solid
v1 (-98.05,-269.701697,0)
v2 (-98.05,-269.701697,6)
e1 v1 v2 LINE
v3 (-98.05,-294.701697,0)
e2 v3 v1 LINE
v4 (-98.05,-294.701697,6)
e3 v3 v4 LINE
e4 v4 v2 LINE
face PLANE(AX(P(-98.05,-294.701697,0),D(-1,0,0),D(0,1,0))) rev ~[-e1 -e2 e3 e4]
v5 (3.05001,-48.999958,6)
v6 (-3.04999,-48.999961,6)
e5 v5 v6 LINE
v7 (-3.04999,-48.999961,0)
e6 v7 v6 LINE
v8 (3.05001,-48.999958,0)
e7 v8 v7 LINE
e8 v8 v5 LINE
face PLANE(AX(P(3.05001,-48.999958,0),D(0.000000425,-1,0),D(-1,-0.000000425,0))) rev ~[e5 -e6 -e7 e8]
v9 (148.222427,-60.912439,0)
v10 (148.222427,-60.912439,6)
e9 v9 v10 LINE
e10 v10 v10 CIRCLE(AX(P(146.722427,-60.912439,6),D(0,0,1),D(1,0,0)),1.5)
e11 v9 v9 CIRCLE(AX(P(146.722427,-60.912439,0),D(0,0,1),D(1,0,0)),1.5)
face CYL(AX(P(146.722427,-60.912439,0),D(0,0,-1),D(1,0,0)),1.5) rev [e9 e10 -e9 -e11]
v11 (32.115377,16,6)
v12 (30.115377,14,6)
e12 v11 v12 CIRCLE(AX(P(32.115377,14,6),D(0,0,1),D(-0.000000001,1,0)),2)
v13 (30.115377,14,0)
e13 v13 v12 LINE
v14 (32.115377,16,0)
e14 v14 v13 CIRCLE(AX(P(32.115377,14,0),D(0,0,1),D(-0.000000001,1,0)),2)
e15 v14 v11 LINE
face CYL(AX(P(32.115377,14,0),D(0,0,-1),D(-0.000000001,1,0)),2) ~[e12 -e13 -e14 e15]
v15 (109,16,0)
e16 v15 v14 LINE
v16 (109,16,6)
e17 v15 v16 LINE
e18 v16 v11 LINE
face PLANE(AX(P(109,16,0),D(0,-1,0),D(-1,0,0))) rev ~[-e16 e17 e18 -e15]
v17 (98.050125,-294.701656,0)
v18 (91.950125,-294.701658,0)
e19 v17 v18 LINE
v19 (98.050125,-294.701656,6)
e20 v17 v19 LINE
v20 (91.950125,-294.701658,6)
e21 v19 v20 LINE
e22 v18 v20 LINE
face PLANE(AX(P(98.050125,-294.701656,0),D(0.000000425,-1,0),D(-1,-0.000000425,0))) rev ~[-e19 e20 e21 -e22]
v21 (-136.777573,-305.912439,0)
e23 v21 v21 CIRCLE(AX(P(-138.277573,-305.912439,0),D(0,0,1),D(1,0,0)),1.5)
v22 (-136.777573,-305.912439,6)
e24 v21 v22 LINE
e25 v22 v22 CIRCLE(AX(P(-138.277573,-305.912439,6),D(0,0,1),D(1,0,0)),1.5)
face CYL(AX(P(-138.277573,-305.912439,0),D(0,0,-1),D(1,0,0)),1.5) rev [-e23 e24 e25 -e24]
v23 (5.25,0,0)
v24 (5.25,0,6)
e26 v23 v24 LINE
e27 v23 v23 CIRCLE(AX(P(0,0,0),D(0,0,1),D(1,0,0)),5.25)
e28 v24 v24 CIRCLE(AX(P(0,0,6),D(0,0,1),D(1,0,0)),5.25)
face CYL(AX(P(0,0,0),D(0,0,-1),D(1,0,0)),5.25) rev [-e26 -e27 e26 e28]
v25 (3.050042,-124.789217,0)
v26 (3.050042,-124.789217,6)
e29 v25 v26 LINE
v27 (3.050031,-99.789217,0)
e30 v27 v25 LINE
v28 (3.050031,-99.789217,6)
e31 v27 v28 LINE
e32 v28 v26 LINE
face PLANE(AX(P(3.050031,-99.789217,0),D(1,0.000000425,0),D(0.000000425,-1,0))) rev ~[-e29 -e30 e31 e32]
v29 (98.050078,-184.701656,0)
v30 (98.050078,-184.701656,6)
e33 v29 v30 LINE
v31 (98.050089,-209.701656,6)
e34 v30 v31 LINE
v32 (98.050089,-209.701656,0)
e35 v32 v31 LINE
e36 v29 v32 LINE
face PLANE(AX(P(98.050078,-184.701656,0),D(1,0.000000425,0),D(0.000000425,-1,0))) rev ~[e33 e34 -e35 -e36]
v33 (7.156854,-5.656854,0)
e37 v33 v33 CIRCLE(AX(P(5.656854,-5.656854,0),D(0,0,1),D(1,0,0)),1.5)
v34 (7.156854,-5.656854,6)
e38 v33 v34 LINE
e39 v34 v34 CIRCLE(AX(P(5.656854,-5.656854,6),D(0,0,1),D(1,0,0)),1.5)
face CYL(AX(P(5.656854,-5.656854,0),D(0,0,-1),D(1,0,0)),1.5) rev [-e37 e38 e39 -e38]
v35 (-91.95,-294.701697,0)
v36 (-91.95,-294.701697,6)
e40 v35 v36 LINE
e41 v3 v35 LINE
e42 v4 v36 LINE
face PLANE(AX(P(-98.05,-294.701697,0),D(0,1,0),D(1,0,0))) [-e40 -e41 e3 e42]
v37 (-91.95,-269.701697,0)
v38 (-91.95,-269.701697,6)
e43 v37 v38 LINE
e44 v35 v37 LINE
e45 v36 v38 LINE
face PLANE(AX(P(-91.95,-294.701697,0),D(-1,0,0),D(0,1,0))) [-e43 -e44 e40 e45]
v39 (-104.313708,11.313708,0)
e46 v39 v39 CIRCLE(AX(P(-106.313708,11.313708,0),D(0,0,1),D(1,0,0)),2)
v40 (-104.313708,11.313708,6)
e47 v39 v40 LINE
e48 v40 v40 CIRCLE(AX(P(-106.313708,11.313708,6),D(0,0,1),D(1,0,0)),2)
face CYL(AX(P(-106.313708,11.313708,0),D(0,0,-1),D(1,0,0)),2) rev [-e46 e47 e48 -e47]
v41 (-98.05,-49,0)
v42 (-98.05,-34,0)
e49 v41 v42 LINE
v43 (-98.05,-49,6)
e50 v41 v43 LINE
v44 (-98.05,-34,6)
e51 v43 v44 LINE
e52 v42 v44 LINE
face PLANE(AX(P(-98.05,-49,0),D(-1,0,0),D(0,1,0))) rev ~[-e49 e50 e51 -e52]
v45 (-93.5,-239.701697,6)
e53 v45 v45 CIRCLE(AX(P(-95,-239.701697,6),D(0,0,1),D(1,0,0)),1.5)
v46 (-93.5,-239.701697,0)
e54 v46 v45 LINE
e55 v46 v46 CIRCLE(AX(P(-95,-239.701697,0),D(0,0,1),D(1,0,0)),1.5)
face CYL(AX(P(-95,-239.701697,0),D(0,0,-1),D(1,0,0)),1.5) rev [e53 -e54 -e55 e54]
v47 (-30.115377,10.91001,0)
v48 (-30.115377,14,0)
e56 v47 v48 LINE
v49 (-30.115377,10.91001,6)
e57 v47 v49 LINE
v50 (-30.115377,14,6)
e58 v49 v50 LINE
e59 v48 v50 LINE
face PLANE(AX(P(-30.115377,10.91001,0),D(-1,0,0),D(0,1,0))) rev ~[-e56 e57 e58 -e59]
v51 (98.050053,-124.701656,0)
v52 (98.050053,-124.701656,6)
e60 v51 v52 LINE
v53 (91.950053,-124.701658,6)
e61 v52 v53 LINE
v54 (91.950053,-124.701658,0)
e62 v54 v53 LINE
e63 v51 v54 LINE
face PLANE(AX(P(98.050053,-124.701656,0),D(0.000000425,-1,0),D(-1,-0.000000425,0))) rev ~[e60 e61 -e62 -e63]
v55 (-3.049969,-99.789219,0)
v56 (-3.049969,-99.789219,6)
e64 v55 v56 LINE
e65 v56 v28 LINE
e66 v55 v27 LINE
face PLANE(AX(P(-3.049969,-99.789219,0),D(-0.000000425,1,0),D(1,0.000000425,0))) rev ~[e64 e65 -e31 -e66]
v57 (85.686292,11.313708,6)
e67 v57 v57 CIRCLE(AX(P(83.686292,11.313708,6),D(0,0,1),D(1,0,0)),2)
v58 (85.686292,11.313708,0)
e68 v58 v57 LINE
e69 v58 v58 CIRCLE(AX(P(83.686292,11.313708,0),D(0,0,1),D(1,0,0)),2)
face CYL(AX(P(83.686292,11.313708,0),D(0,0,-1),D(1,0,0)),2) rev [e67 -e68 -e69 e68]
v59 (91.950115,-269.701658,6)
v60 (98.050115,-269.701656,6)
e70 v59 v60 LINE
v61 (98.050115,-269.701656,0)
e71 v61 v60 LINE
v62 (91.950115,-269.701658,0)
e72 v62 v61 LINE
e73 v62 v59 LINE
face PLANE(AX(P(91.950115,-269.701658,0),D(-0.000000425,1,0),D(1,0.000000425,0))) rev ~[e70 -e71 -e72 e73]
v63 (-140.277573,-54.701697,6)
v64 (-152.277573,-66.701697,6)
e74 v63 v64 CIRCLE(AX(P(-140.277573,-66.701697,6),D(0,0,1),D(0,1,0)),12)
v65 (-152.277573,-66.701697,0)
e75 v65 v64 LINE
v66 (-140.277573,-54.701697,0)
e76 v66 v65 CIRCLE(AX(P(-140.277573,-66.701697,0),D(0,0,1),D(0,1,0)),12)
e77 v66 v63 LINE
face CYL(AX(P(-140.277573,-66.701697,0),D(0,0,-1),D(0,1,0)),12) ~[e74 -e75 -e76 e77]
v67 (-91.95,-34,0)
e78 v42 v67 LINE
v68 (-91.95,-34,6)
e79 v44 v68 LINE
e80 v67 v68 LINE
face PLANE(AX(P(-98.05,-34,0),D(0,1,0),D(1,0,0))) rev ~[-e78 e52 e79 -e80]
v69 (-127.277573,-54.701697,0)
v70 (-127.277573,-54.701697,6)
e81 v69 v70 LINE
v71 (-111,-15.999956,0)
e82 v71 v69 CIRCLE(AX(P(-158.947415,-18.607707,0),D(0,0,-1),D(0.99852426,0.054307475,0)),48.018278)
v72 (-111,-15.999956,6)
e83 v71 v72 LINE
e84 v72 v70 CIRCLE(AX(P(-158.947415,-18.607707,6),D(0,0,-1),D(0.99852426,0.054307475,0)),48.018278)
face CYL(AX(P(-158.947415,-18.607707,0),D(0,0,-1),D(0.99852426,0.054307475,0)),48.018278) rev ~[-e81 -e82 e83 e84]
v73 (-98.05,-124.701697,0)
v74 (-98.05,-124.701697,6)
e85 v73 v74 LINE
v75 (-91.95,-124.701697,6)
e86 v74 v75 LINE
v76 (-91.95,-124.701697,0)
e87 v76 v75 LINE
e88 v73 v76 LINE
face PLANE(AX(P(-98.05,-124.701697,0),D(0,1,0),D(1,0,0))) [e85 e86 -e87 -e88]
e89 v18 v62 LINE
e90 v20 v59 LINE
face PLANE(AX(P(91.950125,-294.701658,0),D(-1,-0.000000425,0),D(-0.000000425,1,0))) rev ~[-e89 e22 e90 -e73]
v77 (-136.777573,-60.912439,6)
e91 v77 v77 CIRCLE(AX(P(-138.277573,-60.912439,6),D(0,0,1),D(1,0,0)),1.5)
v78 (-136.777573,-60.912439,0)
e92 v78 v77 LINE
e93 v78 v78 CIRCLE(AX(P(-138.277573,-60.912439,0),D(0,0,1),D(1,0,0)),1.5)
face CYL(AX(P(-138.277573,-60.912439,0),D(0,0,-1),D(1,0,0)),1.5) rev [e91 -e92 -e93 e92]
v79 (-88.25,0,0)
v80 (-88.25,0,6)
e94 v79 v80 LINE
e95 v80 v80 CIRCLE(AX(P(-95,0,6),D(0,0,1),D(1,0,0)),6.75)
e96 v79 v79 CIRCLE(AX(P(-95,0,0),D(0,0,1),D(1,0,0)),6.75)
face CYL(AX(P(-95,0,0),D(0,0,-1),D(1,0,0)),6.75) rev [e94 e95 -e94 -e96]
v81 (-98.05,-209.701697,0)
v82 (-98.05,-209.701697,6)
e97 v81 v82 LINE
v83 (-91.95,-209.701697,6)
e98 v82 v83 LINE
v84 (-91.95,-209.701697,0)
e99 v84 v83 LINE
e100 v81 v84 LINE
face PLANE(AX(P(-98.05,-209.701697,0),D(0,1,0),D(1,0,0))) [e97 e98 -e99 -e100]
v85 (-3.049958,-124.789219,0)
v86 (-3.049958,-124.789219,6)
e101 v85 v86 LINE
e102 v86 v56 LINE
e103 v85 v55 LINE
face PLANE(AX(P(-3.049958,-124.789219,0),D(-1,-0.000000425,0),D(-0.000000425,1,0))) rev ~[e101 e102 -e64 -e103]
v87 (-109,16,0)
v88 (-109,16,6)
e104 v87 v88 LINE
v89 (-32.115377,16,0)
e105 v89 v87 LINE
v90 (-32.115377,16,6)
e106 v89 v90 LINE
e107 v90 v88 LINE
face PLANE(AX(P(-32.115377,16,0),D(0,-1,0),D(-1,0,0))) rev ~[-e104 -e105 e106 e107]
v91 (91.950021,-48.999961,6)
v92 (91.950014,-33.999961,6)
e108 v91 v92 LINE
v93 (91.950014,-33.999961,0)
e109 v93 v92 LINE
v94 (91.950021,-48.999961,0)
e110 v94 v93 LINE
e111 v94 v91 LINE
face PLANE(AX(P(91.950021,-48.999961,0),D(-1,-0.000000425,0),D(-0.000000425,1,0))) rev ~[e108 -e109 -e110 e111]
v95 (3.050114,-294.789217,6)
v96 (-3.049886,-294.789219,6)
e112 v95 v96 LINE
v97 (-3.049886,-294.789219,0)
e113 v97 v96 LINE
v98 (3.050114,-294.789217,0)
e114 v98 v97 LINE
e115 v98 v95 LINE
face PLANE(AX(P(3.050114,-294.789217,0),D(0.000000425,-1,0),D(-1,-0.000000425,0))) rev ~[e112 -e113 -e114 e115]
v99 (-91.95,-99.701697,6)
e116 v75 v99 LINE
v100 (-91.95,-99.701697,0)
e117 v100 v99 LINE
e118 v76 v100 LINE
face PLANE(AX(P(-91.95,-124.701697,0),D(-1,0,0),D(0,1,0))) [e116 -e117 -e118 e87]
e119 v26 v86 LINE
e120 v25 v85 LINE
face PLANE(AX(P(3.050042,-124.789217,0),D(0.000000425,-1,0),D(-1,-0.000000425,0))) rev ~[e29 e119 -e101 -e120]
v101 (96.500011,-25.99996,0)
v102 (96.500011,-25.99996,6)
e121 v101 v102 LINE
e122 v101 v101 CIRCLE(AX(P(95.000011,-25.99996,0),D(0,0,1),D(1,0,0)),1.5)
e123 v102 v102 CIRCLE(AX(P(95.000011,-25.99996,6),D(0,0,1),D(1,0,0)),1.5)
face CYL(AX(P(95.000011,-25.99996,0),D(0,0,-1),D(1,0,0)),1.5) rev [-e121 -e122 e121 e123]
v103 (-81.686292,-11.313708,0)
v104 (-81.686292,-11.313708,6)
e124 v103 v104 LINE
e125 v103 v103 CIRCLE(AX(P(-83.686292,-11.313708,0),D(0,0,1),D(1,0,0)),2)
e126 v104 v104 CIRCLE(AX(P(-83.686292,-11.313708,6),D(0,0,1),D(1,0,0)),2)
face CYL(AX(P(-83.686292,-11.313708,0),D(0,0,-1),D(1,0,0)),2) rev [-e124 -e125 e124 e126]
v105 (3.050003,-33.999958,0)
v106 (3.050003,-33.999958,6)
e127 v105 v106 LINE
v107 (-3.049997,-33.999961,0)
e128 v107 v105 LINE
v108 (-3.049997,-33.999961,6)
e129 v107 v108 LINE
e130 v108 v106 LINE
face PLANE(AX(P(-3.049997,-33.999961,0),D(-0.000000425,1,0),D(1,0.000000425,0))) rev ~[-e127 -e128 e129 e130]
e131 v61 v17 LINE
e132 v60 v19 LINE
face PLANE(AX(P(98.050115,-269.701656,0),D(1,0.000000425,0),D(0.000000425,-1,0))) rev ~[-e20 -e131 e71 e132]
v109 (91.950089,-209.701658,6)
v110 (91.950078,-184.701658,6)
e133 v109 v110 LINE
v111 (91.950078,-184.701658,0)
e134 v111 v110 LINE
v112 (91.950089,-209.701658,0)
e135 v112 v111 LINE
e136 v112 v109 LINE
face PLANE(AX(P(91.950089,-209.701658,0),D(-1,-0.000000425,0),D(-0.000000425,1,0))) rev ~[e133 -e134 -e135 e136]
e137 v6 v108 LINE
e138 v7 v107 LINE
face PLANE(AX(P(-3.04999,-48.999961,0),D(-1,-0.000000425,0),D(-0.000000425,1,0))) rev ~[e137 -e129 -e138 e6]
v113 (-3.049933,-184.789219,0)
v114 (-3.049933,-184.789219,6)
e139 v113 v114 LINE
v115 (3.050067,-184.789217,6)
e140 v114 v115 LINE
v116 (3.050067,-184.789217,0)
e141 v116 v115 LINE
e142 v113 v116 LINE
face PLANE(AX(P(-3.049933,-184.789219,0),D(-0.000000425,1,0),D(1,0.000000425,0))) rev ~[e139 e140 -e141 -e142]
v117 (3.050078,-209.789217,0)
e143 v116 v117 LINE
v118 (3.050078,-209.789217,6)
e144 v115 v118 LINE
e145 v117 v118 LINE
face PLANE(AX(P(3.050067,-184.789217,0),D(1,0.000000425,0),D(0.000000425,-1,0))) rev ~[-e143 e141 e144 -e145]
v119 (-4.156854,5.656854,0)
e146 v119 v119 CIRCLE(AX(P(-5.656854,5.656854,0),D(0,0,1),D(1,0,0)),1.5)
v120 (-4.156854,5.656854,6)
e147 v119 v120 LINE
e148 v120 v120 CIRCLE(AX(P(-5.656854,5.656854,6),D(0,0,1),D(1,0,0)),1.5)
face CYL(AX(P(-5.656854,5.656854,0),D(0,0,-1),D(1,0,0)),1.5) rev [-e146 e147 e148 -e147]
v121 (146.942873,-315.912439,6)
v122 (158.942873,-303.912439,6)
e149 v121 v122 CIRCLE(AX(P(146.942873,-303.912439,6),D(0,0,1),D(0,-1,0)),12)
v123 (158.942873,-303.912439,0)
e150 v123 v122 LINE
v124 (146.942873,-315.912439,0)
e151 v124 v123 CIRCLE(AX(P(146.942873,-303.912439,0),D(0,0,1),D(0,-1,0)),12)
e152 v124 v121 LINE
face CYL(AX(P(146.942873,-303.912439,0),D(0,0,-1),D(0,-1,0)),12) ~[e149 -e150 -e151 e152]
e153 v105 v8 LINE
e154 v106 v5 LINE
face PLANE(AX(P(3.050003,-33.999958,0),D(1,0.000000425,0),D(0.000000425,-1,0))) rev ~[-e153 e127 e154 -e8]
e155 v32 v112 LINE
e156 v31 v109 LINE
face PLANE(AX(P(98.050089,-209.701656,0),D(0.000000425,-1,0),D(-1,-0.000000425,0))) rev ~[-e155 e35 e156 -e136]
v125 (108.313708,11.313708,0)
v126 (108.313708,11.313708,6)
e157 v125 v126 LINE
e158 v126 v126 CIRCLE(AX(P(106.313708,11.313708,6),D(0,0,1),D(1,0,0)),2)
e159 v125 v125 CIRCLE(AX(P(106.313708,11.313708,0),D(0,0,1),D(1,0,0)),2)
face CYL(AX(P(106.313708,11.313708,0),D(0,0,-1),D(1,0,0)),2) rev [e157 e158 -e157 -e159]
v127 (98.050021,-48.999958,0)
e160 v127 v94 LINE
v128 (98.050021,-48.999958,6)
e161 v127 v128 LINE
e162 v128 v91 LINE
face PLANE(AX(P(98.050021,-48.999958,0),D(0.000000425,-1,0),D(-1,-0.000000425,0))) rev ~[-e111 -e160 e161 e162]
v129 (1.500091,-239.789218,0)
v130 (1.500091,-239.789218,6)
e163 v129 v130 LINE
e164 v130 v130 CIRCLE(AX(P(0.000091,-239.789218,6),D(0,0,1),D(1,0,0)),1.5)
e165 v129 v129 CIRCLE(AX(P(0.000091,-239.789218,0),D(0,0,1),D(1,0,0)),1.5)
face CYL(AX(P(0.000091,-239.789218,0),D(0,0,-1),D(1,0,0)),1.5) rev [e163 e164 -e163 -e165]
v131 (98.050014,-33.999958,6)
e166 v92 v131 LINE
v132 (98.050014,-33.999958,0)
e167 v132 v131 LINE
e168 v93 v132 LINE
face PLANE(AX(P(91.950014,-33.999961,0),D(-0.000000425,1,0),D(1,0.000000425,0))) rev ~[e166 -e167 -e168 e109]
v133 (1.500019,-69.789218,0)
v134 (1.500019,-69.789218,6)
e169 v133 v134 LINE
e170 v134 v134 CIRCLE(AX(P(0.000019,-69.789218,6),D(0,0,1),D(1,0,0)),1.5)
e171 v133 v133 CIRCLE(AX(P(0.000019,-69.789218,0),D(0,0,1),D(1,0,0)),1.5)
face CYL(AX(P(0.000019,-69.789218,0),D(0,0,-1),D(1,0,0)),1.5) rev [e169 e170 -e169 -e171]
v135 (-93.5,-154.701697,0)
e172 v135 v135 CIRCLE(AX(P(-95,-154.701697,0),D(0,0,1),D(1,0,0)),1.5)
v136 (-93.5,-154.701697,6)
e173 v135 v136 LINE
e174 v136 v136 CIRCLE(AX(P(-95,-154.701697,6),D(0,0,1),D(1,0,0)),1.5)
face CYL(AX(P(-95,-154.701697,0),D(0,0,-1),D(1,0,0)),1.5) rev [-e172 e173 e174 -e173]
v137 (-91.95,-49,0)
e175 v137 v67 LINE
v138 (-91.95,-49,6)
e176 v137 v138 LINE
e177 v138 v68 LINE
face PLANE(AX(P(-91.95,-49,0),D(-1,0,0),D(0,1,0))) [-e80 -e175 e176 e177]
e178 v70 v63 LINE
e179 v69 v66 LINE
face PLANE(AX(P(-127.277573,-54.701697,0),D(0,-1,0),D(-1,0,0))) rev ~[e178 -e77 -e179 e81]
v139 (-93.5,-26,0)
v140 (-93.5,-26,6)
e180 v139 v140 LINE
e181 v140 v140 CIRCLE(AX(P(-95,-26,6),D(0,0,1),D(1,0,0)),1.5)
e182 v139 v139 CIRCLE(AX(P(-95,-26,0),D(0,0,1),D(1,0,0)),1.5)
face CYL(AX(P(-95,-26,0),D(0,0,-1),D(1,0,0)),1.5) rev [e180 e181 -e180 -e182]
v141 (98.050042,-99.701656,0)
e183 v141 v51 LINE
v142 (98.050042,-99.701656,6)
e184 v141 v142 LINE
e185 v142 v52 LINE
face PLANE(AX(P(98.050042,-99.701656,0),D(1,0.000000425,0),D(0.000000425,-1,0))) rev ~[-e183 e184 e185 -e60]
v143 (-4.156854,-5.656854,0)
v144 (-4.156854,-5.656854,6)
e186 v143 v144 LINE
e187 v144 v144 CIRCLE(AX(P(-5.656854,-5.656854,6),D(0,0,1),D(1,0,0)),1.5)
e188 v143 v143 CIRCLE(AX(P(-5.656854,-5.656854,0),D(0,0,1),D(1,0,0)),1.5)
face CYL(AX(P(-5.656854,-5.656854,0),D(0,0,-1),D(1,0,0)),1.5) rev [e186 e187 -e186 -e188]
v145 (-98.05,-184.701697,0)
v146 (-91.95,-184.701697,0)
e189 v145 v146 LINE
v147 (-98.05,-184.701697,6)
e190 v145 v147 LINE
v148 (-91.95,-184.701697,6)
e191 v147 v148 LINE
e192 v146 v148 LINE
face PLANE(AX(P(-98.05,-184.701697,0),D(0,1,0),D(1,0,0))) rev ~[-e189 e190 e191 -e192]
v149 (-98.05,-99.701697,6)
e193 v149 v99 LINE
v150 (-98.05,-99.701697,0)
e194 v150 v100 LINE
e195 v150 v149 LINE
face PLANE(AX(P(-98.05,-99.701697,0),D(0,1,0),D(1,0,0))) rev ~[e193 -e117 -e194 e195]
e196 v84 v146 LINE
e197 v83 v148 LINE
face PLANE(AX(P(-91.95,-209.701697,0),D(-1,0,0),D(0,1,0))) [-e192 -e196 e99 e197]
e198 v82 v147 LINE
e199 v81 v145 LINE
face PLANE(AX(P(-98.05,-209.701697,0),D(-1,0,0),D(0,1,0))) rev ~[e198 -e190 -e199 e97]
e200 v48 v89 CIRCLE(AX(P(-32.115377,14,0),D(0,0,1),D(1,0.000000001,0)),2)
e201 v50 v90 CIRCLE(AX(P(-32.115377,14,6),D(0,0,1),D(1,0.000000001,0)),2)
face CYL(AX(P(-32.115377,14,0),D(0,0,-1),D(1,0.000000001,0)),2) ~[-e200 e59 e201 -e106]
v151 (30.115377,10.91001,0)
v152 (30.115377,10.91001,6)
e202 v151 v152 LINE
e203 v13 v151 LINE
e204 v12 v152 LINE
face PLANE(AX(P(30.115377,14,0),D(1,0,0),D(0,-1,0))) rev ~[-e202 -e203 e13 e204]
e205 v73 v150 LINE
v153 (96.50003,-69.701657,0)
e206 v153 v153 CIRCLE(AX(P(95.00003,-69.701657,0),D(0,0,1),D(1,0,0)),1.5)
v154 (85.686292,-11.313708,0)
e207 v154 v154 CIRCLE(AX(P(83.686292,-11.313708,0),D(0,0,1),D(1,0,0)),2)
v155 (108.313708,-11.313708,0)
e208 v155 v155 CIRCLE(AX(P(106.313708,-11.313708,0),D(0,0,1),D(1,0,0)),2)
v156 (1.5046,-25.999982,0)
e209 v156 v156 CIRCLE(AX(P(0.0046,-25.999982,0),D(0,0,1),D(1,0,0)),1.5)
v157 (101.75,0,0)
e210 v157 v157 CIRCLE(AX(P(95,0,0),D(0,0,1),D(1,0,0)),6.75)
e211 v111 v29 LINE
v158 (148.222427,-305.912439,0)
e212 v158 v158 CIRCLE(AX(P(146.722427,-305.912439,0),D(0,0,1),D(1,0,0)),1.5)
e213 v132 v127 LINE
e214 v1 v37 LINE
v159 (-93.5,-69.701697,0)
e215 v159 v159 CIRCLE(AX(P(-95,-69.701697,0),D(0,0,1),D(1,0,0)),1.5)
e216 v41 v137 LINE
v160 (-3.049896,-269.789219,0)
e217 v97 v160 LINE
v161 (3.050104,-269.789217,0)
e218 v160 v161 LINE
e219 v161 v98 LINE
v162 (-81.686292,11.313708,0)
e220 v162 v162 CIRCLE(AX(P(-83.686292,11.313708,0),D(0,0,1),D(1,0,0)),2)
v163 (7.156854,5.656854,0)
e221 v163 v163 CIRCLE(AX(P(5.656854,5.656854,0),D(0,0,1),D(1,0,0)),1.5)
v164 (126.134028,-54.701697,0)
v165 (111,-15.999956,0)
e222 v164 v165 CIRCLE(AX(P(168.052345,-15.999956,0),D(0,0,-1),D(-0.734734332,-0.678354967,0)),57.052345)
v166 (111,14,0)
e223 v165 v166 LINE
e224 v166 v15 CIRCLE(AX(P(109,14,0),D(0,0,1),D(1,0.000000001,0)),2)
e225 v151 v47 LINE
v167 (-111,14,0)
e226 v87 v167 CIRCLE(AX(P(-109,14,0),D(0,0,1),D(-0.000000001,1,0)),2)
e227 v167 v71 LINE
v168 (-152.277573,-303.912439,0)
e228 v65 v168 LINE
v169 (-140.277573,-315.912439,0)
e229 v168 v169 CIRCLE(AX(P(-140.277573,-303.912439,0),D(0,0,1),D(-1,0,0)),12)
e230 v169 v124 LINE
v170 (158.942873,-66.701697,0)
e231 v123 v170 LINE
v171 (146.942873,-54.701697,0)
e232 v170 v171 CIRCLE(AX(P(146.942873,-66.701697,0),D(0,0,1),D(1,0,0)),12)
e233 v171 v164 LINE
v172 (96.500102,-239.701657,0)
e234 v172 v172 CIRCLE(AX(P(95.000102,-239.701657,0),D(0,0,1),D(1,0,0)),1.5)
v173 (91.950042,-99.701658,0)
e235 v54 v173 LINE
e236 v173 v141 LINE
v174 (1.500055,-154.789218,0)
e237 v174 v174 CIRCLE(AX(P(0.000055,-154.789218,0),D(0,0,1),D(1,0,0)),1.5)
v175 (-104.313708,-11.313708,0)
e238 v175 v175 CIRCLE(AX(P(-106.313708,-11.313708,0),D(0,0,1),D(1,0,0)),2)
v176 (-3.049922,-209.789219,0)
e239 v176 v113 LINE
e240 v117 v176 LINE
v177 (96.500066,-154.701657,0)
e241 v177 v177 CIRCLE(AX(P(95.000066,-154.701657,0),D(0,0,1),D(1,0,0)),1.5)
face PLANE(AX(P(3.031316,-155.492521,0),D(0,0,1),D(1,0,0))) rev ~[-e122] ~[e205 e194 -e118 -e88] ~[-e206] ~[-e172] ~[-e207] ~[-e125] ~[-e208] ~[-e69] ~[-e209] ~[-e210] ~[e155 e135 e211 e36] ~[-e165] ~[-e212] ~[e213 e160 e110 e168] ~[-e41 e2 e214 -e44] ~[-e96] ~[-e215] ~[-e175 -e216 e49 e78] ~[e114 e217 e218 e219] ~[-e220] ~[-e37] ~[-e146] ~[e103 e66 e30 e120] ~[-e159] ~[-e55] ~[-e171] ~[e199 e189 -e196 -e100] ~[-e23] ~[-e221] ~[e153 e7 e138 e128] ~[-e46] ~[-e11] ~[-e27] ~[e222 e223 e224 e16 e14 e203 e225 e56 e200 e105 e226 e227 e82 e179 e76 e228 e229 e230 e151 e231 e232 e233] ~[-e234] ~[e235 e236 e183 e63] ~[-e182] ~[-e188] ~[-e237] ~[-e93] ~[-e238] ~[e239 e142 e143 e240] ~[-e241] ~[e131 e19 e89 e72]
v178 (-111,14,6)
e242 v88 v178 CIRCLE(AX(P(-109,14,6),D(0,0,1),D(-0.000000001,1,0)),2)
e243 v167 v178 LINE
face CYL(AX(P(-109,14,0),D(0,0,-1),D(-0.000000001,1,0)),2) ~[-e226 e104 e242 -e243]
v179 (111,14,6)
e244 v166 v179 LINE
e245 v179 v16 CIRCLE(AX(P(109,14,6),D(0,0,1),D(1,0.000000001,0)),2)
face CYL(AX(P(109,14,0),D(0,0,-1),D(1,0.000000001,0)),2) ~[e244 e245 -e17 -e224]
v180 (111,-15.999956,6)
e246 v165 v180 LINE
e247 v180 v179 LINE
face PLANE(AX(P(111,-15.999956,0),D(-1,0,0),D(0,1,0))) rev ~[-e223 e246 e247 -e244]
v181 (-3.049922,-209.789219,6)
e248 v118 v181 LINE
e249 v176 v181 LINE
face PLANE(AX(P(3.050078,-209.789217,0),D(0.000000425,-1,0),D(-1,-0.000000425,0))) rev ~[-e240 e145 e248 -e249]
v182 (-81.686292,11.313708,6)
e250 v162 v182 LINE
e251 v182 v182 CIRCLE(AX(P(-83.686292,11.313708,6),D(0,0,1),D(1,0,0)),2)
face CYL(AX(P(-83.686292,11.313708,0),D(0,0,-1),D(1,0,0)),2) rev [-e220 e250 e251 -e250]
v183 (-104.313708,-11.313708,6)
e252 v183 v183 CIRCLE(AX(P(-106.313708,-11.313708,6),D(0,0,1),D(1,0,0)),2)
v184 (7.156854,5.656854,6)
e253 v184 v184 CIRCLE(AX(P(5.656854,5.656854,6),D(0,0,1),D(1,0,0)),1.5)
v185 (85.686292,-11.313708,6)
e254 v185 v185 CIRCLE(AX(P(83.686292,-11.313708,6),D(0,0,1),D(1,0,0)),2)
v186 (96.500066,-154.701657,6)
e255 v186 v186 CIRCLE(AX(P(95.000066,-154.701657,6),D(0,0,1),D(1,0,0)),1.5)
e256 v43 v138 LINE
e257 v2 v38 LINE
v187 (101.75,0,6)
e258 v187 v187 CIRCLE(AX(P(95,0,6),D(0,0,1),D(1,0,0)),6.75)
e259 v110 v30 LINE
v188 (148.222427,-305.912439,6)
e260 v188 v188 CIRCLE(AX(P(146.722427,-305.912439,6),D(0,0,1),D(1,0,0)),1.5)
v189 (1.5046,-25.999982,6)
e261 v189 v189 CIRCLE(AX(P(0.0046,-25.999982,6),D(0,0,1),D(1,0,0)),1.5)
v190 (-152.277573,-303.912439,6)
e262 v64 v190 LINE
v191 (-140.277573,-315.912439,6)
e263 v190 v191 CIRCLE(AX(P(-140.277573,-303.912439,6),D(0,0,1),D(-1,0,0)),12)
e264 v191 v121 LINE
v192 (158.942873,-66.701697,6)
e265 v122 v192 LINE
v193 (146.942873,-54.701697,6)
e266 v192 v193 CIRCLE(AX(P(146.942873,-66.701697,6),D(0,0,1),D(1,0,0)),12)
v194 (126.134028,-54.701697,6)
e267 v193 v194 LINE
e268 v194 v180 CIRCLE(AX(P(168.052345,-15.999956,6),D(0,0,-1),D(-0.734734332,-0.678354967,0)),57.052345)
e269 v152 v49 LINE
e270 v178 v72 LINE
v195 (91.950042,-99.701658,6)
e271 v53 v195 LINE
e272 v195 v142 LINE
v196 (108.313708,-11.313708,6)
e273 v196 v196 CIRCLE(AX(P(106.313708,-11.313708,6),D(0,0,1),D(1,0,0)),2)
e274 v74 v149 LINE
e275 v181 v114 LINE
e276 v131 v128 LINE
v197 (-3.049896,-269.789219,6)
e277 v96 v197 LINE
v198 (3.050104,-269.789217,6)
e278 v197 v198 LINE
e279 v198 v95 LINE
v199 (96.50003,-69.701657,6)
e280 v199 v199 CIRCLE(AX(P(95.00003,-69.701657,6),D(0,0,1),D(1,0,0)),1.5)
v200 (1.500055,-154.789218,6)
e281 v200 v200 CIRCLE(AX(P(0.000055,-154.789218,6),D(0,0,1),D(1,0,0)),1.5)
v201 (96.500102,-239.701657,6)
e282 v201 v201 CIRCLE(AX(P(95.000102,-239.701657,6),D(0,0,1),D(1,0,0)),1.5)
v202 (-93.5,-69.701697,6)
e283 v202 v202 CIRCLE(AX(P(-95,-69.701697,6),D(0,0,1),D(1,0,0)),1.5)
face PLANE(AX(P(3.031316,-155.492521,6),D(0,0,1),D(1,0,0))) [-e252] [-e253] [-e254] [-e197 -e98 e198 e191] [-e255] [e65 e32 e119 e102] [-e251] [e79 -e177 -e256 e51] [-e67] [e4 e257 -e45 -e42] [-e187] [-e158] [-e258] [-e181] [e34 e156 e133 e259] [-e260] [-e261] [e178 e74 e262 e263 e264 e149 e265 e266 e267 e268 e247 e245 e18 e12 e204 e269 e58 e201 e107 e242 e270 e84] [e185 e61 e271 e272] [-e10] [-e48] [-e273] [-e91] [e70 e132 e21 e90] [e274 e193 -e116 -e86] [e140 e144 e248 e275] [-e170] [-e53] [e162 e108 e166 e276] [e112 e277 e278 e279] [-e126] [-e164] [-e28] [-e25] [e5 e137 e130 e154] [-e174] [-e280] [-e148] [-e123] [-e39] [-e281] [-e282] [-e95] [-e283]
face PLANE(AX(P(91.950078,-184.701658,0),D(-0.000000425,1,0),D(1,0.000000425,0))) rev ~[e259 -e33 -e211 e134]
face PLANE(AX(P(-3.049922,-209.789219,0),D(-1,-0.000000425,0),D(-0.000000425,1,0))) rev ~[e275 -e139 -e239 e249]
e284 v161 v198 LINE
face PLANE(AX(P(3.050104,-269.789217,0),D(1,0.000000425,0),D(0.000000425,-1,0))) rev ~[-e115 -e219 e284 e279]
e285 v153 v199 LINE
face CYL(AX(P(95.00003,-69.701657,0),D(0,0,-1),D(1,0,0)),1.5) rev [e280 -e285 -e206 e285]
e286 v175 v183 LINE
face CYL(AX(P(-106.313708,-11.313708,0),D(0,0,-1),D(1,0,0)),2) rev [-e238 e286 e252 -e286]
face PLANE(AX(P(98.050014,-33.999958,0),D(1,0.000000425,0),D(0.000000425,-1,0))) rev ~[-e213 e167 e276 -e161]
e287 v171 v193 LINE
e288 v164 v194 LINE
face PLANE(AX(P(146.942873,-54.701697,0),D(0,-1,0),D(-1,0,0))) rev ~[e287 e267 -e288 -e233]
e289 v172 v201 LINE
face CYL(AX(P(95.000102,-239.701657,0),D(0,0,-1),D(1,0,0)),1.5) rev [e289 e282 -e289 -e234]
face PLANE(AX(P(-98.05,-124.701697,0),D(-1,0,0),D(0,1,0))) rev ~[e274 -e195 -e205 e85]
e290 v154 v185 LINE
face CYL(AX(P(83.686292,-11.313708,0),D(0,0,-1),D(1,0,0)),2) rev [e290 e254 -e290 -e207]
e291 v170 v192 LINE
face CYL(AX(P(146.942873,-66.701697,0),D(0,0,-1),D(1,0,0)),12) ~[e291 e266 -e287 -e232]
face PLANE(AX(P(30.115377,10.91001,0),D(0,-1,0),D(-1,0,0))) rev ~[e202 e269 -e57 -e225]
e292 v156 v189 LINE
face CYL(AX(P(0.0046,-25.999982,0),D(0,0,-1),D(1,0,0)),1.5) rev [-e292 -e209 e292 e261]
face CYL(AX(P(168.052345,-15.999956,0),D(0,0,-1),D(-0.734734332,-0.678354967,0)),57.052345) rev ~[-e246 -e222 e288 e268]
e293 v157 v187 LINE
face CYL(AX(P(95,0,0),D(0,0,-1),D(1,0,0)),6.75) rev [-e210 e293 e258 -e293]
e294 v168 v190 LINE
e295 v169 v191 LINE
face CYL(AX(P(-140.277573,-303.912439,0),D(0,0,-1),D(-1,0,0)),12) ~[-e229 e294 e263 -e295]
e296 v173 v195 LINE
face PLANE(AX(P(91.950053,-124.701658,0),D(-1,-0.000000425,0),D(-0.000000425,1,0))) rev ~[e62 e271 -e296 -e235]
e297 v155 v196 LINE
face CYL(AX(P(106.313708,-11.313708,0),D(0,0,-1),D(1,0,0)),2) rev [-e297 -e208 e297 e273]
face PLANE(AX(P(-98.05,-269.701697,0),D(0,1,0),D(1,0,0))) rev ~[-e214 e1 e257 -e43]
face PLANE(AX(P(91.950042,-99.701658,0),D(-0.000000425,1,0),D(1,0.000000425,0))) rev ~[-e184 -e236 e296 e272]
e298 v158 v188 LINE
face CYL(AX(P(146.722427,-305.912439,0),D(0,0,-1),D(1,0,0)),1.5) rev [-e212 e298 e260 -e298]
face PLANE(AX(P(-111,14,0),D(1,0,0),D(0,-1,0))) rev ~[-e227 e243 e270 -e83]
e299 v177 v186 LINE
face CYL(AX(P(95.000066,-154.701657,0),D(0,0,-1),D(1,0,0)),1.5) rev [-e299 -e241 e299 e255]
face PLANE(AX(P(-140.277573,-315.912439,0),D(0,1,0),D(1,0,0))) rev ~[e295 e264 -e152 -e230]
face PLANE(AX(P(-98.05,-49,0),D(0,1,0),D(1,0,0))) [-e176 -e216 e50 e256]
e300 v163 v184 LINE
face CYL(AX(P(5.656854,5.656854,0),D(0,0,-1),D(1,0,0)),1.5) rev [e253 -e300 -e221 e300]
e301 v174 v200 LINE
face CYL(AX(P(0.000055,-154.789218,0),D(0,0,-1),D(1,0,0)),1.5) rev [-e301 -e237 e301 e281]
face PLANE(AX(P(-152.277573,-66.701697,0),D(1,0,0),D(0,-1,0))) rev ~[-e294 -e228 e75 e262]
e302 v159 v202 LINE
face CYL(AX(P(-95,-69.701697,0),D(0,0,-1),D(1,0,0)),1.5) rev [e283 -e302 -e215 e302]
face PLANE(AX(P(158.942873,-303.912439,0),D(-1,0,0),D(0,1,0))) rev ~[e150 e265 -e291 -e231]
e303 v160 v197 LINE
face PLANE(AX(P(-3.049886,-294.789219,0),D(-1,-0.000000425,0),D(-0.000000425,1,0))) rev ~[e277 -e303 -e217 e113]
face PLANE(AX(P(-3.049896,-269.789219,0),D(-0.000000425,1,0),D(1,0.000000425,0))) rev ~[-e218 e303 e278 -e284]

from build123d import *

# Parameters (mm, degrees)
CROQUIS1_R              = 1.5
CROQUIS1_W              = 6.1
CROQUIS1_H              = 25
CROQUIS1_H_2            = 15
CROQUIS1_R_2            = 2
CROQUIS1_R_3            = 6.75
CROQUIS1_R_4            = 5.25
SALIENTE_EXTRUIR1_DEPTH = 6


with BuildPart() as part:
    # Croquis1 → Saliente-Extruir1 (new body)
    with BuildSketch(Plane.XY):
        with BuildLine():
            Line((87.635637669, 16), (32.115377174, 16))
            ThreePointArc((32.115377174, 16), (30.701163612, 15.414213562), (30.115377174, 14))
            Line((30.115377174, 14), (30.115377174, 10.910010016))
            Line((30.115377174, 10.910010016), (-30.115377174, 10.910010016))
            Line((-30.115377174, 10.910010016), (-30.115377174, 14))
            ThreePointArc((-30.115377174, 14), (-30.701163612, 15.414213562), (-32.115377174, 16))
            Line((-32.115377174, 16), (-44.664398505, 16))
            Line((-44.664398505, 16), (-87.635637669, 16))
            Line((-87.635637669, 16), (-109, 16))
            ThreePointArc((-109, 16), (-110.414213562, 15.414213562), (-111, 14))
            Line((-111, 14), (-111, 0))
            Line((-111, 0), (-111, -15.999955929))
            ThreePointArc((-111, -15.999955929), (-114.684754838, -37.224148725), (-127.277573278, -54.701697231))
            Line((-127.277573278, -54.701697231), (-135.277573278, -54.701697231))
            Line((-135.277573278, -54.701697231), (-140.277573278, -54.701697231))
            ThreePointArc((-140.277573278, -54.701697231), (-148.762854653, -58.216415857), (-152.277573278, -66.701697231))
            Line((-152.277573278, -66.701697231), (-152.277573278, -303.912438798))
            ThreePointArc((-152.277573278, -303.912438798), (-148.762854653, -312.397720172), (-140.277573278, -315.912438798))
            Line((-140.277573278, -315.912438798), (-135.277573278, -315.912438798))
            Line((-135.277573278, -315.912438798), (-119.364295205, -315.912438798))
            Line((-119.364295205, -315.912438798), (119.364429455, -315.912438798))
            Line((119.364429455, -315.912438798), (130.295105026, -315.912438798))
            Line((130.295105026, -315.912438798), (146.942872896, -315.912438798))
            ThreePointArc((146.942872896, -315.912438798), (155.42815427, -312.397720172), (158.942872896, -303.912438798))
            Line((158.942872896, -303.912438798), (158.942872896, -70.770984471))
            Line((158.942872896, -70.770984471), (158.942872896, -66.701697231))
            ThreePointArc((158.942872896, -66.701697231), (155.42815427, -58.216415857), (146.942872896, -54.701697231))
            Line((146.942872896, -54.701697231), (126.134028278, -54.701697231))
            ThreePointArc((126.134028278, -54.701697231), (114.918041875, -36.777730062), (111, -15.999955929))
            Line((111, -15.999955929), (111, 14))
            ThreePointArc((111, 14), (110.414213562, 15.414213562), (109, 16))
            Line((109, 16), (87.635637669, 16))
        make_face()
        with Locations((-138.277573278, -305.912438798)):
            Circle(CROQUIS1_R, mode=Mode.SUBTRACT)
        with Locations((-95, -282.201697231)):
            Rectangle(CROQUIS1_W, CROQUIS1_H, mode=Mode.SUBTRACT)
        with Locations((-95, -239.701697231)):
            Circle(CROQUIS1_R, mode=Mode.SUBTRACT)
        Polygon((-3.049885808, -294.789219369), (-3.049896429, -269.789219369), (3.050103571, -269.789216778), (3.050114192, -294.789216778), align=None, mode=Mode.SUBTRACT)
        with Locations((9.0826e-05, -239.789218073)):
            Circle(CROQUIS1_R, mode=Mode.SUBTRACT)
        with Locations((-95, -197.201697231)):
            Rectangle(CROQUIS1_W, CROQUIS1_H, mode=Mode.SUBTRACT)
        with Locations((-95, -154.701697231)):
            Circle(CROQUIS1_R, mode=Mode.SUBTRACT)
        Polygon((-3.049921919, -209.789219369), (-3.04993254, -184.789219369), (3.05006746, -184.789216778), (3.050078081, -209.789216778), align=None, mode=Mode.SUBTRACT)
        with Locations((5.4715e-05, -154.789218073)):
            Circle(CROQUIS1_R, mode=Mode.SUBTRACT)
        Polygon((91.950125201, -294.701658167), (91.95011458, -269.701658167), (98.05011458, -269.701655576), (98.050125201, -294.701655576), align=None, mode=Mode.SUBTRACT)
        with Locations((146.722426722, -305.912438798)):
            Circle(CROQUIS1_R, mode=Mode.SUBTRACT)
        with Locations((95.000101835, -239.701656871)):
            Circle(CROQUIS1_R, mode=Mode.SUBTRACT)
        Polygon((91.95008909, -209.701658167), (91.950078469, -184.701658167), (98.050078469, -184.701655576), (98.05008909, -209.701655576), align=None, mode=Mode.SUBTRACT)
        with Locations((95.000065724, -154.701656871)):
            Circle(CROQUIS1_R, mode=Mode.SUBTRACT)
        with Locations((-95, -112.201697231)):
            Rectangle(CROQUIS1_W, CROQUIS1_H, mode=Mode.SUBTRACT)
        with Locations((-95, -69.701697231)):
            Circle(CROQUIS1_R, mode=Mode.SUBTRACT)
        Polygon((-3.04995803, -124.789219369), (-3.049968651, -99.789219369), (3.050031349, -99.789216778), (3.05004197, -124.789216778), align=None, mode=Mode.SUBTRACT)
        with Locations((1.8603e-05, -69.789218073)):
            Circle(CROQUIS1_R, mode=Mode.SUBTRACT)
        with Locations((-138.277573278, -60.912438798)):
            Circle(CROQUIS1_R, mode=Mode.SUBTRACT)
        with Locations((-95, -41.5)):
            Rectangle(CROQUIS1_W, CROQUIS1_H_2, mode=Mode.SUBTRACT)
        with Locations((-95, -26)):
            Circle(CROQUIS1_R, mode=Mode.SUBTRACT)
        with Locations((-106.313708499, -11.313708499)):
            Circle(CROQUIS1_R_2, mode=Mode.SUBTRACT)
        with Locations((-83.686291501, -11.313708499)):
            Circle(CROQUIS1_R_2, mode=Mode.SUBTRACT)
        with Locations((-95, 0)):
            Circle(CROQUIS1_R_3, mode=Mode.SUBTRACT)
        with Locations((-106.313708499, 11.313708499)):
            Circle(CROQUIS1_R_2, mode=Mode.SUBTRACT)
        with Locations((-83.686291501, 11.313708499)):
            Circle(CROQUIS1_R_2, mode=Mode.SUBTRACT)
        Polygon((-3.049990229, -48.999960936), (-3.049996601, -33.999960936), (3.050003399, -33.999958344), (3.050009771, -48.999958344), align=None, mode=Mode.SUBTRACT)
        with Locations((0.004600085, -25.999981675)):
            Circle(CROQUIS1_R, mode=Mode.SUBTRACT)
        with Locations((-5.656854249, -5.656854249)):
            Circle(CROQUIS1_R, mode=Mode.SUBTRACT)
        Circle(CROQUIS1_R_4, mode=Mode.SUBTRACT)
        with Locations((-5.656854249, 5.656854249)):
            Circle(CROQUIS1_R, mode=Mode.SUBTRACT)
        Polygon((91.950052978, -124.701658167), (91.950042357, -99.701658167), (98.050042357, -99.701655576), (98.050052978, -124.701655576), align=None, mode=Mode.SUBTRACT)
        with Locations((95.000029612, -69.701656871)):
            Circle(CROQUIS1_R, mode=Mode.SUBTRACT)
        with Locations((5.656854249, -5.656854249)):
            Circle(CROQUIS1_R, mode=Mode.SUBTRACT)
        with Locations((5.656854249, 5.656854249)):
            Circle(CROQUIS1_R, mode=Mode.SUBTRACT)
        Polygon((91.950020817, -48.999960936), (91.950014445, -33.999960936), (98.050014445, -33.999958344), (98.050020817, -48.999958344), align=None, mode=Mode.SUBTRACT)
        with Locations((95.000011046, -25.99995964)):
            Circle(CROQUIS1_R, mode=Mode.SUBTRACT)
        with Locations((146.722426722, -60.912438798)):
            Circle(CROQUIS1_R, mode=Mode.SUBTRACT)
        with Locations((83.686291501, -11.313708499)):
            Circle(CROQUIS1_R_2, mode=Mode.SUBTRACT)
        with Locations((106.313708499, -11.313708499)):
            Circle(CROQUIS1_R_2, mode=Mode.SUBTRACT)
        with Locations((95, 0)):
            Circle(CROQUIS1_R_3, mode=Mode.SUBTRACT)
        with Locations((83.686291501, 11.313708499)):
            Circle(CROQUIS1_R_2, mode=Mode.SUBTRACT)
        with Locations((106.313708499, 11.313708499)):
            Circle(CROQUIS1_R_2, mode=Mode.SUBTRACT)
    extrude(amount=SALIENTE_EXTRUIR1_DEPTH)


solid = part.part
